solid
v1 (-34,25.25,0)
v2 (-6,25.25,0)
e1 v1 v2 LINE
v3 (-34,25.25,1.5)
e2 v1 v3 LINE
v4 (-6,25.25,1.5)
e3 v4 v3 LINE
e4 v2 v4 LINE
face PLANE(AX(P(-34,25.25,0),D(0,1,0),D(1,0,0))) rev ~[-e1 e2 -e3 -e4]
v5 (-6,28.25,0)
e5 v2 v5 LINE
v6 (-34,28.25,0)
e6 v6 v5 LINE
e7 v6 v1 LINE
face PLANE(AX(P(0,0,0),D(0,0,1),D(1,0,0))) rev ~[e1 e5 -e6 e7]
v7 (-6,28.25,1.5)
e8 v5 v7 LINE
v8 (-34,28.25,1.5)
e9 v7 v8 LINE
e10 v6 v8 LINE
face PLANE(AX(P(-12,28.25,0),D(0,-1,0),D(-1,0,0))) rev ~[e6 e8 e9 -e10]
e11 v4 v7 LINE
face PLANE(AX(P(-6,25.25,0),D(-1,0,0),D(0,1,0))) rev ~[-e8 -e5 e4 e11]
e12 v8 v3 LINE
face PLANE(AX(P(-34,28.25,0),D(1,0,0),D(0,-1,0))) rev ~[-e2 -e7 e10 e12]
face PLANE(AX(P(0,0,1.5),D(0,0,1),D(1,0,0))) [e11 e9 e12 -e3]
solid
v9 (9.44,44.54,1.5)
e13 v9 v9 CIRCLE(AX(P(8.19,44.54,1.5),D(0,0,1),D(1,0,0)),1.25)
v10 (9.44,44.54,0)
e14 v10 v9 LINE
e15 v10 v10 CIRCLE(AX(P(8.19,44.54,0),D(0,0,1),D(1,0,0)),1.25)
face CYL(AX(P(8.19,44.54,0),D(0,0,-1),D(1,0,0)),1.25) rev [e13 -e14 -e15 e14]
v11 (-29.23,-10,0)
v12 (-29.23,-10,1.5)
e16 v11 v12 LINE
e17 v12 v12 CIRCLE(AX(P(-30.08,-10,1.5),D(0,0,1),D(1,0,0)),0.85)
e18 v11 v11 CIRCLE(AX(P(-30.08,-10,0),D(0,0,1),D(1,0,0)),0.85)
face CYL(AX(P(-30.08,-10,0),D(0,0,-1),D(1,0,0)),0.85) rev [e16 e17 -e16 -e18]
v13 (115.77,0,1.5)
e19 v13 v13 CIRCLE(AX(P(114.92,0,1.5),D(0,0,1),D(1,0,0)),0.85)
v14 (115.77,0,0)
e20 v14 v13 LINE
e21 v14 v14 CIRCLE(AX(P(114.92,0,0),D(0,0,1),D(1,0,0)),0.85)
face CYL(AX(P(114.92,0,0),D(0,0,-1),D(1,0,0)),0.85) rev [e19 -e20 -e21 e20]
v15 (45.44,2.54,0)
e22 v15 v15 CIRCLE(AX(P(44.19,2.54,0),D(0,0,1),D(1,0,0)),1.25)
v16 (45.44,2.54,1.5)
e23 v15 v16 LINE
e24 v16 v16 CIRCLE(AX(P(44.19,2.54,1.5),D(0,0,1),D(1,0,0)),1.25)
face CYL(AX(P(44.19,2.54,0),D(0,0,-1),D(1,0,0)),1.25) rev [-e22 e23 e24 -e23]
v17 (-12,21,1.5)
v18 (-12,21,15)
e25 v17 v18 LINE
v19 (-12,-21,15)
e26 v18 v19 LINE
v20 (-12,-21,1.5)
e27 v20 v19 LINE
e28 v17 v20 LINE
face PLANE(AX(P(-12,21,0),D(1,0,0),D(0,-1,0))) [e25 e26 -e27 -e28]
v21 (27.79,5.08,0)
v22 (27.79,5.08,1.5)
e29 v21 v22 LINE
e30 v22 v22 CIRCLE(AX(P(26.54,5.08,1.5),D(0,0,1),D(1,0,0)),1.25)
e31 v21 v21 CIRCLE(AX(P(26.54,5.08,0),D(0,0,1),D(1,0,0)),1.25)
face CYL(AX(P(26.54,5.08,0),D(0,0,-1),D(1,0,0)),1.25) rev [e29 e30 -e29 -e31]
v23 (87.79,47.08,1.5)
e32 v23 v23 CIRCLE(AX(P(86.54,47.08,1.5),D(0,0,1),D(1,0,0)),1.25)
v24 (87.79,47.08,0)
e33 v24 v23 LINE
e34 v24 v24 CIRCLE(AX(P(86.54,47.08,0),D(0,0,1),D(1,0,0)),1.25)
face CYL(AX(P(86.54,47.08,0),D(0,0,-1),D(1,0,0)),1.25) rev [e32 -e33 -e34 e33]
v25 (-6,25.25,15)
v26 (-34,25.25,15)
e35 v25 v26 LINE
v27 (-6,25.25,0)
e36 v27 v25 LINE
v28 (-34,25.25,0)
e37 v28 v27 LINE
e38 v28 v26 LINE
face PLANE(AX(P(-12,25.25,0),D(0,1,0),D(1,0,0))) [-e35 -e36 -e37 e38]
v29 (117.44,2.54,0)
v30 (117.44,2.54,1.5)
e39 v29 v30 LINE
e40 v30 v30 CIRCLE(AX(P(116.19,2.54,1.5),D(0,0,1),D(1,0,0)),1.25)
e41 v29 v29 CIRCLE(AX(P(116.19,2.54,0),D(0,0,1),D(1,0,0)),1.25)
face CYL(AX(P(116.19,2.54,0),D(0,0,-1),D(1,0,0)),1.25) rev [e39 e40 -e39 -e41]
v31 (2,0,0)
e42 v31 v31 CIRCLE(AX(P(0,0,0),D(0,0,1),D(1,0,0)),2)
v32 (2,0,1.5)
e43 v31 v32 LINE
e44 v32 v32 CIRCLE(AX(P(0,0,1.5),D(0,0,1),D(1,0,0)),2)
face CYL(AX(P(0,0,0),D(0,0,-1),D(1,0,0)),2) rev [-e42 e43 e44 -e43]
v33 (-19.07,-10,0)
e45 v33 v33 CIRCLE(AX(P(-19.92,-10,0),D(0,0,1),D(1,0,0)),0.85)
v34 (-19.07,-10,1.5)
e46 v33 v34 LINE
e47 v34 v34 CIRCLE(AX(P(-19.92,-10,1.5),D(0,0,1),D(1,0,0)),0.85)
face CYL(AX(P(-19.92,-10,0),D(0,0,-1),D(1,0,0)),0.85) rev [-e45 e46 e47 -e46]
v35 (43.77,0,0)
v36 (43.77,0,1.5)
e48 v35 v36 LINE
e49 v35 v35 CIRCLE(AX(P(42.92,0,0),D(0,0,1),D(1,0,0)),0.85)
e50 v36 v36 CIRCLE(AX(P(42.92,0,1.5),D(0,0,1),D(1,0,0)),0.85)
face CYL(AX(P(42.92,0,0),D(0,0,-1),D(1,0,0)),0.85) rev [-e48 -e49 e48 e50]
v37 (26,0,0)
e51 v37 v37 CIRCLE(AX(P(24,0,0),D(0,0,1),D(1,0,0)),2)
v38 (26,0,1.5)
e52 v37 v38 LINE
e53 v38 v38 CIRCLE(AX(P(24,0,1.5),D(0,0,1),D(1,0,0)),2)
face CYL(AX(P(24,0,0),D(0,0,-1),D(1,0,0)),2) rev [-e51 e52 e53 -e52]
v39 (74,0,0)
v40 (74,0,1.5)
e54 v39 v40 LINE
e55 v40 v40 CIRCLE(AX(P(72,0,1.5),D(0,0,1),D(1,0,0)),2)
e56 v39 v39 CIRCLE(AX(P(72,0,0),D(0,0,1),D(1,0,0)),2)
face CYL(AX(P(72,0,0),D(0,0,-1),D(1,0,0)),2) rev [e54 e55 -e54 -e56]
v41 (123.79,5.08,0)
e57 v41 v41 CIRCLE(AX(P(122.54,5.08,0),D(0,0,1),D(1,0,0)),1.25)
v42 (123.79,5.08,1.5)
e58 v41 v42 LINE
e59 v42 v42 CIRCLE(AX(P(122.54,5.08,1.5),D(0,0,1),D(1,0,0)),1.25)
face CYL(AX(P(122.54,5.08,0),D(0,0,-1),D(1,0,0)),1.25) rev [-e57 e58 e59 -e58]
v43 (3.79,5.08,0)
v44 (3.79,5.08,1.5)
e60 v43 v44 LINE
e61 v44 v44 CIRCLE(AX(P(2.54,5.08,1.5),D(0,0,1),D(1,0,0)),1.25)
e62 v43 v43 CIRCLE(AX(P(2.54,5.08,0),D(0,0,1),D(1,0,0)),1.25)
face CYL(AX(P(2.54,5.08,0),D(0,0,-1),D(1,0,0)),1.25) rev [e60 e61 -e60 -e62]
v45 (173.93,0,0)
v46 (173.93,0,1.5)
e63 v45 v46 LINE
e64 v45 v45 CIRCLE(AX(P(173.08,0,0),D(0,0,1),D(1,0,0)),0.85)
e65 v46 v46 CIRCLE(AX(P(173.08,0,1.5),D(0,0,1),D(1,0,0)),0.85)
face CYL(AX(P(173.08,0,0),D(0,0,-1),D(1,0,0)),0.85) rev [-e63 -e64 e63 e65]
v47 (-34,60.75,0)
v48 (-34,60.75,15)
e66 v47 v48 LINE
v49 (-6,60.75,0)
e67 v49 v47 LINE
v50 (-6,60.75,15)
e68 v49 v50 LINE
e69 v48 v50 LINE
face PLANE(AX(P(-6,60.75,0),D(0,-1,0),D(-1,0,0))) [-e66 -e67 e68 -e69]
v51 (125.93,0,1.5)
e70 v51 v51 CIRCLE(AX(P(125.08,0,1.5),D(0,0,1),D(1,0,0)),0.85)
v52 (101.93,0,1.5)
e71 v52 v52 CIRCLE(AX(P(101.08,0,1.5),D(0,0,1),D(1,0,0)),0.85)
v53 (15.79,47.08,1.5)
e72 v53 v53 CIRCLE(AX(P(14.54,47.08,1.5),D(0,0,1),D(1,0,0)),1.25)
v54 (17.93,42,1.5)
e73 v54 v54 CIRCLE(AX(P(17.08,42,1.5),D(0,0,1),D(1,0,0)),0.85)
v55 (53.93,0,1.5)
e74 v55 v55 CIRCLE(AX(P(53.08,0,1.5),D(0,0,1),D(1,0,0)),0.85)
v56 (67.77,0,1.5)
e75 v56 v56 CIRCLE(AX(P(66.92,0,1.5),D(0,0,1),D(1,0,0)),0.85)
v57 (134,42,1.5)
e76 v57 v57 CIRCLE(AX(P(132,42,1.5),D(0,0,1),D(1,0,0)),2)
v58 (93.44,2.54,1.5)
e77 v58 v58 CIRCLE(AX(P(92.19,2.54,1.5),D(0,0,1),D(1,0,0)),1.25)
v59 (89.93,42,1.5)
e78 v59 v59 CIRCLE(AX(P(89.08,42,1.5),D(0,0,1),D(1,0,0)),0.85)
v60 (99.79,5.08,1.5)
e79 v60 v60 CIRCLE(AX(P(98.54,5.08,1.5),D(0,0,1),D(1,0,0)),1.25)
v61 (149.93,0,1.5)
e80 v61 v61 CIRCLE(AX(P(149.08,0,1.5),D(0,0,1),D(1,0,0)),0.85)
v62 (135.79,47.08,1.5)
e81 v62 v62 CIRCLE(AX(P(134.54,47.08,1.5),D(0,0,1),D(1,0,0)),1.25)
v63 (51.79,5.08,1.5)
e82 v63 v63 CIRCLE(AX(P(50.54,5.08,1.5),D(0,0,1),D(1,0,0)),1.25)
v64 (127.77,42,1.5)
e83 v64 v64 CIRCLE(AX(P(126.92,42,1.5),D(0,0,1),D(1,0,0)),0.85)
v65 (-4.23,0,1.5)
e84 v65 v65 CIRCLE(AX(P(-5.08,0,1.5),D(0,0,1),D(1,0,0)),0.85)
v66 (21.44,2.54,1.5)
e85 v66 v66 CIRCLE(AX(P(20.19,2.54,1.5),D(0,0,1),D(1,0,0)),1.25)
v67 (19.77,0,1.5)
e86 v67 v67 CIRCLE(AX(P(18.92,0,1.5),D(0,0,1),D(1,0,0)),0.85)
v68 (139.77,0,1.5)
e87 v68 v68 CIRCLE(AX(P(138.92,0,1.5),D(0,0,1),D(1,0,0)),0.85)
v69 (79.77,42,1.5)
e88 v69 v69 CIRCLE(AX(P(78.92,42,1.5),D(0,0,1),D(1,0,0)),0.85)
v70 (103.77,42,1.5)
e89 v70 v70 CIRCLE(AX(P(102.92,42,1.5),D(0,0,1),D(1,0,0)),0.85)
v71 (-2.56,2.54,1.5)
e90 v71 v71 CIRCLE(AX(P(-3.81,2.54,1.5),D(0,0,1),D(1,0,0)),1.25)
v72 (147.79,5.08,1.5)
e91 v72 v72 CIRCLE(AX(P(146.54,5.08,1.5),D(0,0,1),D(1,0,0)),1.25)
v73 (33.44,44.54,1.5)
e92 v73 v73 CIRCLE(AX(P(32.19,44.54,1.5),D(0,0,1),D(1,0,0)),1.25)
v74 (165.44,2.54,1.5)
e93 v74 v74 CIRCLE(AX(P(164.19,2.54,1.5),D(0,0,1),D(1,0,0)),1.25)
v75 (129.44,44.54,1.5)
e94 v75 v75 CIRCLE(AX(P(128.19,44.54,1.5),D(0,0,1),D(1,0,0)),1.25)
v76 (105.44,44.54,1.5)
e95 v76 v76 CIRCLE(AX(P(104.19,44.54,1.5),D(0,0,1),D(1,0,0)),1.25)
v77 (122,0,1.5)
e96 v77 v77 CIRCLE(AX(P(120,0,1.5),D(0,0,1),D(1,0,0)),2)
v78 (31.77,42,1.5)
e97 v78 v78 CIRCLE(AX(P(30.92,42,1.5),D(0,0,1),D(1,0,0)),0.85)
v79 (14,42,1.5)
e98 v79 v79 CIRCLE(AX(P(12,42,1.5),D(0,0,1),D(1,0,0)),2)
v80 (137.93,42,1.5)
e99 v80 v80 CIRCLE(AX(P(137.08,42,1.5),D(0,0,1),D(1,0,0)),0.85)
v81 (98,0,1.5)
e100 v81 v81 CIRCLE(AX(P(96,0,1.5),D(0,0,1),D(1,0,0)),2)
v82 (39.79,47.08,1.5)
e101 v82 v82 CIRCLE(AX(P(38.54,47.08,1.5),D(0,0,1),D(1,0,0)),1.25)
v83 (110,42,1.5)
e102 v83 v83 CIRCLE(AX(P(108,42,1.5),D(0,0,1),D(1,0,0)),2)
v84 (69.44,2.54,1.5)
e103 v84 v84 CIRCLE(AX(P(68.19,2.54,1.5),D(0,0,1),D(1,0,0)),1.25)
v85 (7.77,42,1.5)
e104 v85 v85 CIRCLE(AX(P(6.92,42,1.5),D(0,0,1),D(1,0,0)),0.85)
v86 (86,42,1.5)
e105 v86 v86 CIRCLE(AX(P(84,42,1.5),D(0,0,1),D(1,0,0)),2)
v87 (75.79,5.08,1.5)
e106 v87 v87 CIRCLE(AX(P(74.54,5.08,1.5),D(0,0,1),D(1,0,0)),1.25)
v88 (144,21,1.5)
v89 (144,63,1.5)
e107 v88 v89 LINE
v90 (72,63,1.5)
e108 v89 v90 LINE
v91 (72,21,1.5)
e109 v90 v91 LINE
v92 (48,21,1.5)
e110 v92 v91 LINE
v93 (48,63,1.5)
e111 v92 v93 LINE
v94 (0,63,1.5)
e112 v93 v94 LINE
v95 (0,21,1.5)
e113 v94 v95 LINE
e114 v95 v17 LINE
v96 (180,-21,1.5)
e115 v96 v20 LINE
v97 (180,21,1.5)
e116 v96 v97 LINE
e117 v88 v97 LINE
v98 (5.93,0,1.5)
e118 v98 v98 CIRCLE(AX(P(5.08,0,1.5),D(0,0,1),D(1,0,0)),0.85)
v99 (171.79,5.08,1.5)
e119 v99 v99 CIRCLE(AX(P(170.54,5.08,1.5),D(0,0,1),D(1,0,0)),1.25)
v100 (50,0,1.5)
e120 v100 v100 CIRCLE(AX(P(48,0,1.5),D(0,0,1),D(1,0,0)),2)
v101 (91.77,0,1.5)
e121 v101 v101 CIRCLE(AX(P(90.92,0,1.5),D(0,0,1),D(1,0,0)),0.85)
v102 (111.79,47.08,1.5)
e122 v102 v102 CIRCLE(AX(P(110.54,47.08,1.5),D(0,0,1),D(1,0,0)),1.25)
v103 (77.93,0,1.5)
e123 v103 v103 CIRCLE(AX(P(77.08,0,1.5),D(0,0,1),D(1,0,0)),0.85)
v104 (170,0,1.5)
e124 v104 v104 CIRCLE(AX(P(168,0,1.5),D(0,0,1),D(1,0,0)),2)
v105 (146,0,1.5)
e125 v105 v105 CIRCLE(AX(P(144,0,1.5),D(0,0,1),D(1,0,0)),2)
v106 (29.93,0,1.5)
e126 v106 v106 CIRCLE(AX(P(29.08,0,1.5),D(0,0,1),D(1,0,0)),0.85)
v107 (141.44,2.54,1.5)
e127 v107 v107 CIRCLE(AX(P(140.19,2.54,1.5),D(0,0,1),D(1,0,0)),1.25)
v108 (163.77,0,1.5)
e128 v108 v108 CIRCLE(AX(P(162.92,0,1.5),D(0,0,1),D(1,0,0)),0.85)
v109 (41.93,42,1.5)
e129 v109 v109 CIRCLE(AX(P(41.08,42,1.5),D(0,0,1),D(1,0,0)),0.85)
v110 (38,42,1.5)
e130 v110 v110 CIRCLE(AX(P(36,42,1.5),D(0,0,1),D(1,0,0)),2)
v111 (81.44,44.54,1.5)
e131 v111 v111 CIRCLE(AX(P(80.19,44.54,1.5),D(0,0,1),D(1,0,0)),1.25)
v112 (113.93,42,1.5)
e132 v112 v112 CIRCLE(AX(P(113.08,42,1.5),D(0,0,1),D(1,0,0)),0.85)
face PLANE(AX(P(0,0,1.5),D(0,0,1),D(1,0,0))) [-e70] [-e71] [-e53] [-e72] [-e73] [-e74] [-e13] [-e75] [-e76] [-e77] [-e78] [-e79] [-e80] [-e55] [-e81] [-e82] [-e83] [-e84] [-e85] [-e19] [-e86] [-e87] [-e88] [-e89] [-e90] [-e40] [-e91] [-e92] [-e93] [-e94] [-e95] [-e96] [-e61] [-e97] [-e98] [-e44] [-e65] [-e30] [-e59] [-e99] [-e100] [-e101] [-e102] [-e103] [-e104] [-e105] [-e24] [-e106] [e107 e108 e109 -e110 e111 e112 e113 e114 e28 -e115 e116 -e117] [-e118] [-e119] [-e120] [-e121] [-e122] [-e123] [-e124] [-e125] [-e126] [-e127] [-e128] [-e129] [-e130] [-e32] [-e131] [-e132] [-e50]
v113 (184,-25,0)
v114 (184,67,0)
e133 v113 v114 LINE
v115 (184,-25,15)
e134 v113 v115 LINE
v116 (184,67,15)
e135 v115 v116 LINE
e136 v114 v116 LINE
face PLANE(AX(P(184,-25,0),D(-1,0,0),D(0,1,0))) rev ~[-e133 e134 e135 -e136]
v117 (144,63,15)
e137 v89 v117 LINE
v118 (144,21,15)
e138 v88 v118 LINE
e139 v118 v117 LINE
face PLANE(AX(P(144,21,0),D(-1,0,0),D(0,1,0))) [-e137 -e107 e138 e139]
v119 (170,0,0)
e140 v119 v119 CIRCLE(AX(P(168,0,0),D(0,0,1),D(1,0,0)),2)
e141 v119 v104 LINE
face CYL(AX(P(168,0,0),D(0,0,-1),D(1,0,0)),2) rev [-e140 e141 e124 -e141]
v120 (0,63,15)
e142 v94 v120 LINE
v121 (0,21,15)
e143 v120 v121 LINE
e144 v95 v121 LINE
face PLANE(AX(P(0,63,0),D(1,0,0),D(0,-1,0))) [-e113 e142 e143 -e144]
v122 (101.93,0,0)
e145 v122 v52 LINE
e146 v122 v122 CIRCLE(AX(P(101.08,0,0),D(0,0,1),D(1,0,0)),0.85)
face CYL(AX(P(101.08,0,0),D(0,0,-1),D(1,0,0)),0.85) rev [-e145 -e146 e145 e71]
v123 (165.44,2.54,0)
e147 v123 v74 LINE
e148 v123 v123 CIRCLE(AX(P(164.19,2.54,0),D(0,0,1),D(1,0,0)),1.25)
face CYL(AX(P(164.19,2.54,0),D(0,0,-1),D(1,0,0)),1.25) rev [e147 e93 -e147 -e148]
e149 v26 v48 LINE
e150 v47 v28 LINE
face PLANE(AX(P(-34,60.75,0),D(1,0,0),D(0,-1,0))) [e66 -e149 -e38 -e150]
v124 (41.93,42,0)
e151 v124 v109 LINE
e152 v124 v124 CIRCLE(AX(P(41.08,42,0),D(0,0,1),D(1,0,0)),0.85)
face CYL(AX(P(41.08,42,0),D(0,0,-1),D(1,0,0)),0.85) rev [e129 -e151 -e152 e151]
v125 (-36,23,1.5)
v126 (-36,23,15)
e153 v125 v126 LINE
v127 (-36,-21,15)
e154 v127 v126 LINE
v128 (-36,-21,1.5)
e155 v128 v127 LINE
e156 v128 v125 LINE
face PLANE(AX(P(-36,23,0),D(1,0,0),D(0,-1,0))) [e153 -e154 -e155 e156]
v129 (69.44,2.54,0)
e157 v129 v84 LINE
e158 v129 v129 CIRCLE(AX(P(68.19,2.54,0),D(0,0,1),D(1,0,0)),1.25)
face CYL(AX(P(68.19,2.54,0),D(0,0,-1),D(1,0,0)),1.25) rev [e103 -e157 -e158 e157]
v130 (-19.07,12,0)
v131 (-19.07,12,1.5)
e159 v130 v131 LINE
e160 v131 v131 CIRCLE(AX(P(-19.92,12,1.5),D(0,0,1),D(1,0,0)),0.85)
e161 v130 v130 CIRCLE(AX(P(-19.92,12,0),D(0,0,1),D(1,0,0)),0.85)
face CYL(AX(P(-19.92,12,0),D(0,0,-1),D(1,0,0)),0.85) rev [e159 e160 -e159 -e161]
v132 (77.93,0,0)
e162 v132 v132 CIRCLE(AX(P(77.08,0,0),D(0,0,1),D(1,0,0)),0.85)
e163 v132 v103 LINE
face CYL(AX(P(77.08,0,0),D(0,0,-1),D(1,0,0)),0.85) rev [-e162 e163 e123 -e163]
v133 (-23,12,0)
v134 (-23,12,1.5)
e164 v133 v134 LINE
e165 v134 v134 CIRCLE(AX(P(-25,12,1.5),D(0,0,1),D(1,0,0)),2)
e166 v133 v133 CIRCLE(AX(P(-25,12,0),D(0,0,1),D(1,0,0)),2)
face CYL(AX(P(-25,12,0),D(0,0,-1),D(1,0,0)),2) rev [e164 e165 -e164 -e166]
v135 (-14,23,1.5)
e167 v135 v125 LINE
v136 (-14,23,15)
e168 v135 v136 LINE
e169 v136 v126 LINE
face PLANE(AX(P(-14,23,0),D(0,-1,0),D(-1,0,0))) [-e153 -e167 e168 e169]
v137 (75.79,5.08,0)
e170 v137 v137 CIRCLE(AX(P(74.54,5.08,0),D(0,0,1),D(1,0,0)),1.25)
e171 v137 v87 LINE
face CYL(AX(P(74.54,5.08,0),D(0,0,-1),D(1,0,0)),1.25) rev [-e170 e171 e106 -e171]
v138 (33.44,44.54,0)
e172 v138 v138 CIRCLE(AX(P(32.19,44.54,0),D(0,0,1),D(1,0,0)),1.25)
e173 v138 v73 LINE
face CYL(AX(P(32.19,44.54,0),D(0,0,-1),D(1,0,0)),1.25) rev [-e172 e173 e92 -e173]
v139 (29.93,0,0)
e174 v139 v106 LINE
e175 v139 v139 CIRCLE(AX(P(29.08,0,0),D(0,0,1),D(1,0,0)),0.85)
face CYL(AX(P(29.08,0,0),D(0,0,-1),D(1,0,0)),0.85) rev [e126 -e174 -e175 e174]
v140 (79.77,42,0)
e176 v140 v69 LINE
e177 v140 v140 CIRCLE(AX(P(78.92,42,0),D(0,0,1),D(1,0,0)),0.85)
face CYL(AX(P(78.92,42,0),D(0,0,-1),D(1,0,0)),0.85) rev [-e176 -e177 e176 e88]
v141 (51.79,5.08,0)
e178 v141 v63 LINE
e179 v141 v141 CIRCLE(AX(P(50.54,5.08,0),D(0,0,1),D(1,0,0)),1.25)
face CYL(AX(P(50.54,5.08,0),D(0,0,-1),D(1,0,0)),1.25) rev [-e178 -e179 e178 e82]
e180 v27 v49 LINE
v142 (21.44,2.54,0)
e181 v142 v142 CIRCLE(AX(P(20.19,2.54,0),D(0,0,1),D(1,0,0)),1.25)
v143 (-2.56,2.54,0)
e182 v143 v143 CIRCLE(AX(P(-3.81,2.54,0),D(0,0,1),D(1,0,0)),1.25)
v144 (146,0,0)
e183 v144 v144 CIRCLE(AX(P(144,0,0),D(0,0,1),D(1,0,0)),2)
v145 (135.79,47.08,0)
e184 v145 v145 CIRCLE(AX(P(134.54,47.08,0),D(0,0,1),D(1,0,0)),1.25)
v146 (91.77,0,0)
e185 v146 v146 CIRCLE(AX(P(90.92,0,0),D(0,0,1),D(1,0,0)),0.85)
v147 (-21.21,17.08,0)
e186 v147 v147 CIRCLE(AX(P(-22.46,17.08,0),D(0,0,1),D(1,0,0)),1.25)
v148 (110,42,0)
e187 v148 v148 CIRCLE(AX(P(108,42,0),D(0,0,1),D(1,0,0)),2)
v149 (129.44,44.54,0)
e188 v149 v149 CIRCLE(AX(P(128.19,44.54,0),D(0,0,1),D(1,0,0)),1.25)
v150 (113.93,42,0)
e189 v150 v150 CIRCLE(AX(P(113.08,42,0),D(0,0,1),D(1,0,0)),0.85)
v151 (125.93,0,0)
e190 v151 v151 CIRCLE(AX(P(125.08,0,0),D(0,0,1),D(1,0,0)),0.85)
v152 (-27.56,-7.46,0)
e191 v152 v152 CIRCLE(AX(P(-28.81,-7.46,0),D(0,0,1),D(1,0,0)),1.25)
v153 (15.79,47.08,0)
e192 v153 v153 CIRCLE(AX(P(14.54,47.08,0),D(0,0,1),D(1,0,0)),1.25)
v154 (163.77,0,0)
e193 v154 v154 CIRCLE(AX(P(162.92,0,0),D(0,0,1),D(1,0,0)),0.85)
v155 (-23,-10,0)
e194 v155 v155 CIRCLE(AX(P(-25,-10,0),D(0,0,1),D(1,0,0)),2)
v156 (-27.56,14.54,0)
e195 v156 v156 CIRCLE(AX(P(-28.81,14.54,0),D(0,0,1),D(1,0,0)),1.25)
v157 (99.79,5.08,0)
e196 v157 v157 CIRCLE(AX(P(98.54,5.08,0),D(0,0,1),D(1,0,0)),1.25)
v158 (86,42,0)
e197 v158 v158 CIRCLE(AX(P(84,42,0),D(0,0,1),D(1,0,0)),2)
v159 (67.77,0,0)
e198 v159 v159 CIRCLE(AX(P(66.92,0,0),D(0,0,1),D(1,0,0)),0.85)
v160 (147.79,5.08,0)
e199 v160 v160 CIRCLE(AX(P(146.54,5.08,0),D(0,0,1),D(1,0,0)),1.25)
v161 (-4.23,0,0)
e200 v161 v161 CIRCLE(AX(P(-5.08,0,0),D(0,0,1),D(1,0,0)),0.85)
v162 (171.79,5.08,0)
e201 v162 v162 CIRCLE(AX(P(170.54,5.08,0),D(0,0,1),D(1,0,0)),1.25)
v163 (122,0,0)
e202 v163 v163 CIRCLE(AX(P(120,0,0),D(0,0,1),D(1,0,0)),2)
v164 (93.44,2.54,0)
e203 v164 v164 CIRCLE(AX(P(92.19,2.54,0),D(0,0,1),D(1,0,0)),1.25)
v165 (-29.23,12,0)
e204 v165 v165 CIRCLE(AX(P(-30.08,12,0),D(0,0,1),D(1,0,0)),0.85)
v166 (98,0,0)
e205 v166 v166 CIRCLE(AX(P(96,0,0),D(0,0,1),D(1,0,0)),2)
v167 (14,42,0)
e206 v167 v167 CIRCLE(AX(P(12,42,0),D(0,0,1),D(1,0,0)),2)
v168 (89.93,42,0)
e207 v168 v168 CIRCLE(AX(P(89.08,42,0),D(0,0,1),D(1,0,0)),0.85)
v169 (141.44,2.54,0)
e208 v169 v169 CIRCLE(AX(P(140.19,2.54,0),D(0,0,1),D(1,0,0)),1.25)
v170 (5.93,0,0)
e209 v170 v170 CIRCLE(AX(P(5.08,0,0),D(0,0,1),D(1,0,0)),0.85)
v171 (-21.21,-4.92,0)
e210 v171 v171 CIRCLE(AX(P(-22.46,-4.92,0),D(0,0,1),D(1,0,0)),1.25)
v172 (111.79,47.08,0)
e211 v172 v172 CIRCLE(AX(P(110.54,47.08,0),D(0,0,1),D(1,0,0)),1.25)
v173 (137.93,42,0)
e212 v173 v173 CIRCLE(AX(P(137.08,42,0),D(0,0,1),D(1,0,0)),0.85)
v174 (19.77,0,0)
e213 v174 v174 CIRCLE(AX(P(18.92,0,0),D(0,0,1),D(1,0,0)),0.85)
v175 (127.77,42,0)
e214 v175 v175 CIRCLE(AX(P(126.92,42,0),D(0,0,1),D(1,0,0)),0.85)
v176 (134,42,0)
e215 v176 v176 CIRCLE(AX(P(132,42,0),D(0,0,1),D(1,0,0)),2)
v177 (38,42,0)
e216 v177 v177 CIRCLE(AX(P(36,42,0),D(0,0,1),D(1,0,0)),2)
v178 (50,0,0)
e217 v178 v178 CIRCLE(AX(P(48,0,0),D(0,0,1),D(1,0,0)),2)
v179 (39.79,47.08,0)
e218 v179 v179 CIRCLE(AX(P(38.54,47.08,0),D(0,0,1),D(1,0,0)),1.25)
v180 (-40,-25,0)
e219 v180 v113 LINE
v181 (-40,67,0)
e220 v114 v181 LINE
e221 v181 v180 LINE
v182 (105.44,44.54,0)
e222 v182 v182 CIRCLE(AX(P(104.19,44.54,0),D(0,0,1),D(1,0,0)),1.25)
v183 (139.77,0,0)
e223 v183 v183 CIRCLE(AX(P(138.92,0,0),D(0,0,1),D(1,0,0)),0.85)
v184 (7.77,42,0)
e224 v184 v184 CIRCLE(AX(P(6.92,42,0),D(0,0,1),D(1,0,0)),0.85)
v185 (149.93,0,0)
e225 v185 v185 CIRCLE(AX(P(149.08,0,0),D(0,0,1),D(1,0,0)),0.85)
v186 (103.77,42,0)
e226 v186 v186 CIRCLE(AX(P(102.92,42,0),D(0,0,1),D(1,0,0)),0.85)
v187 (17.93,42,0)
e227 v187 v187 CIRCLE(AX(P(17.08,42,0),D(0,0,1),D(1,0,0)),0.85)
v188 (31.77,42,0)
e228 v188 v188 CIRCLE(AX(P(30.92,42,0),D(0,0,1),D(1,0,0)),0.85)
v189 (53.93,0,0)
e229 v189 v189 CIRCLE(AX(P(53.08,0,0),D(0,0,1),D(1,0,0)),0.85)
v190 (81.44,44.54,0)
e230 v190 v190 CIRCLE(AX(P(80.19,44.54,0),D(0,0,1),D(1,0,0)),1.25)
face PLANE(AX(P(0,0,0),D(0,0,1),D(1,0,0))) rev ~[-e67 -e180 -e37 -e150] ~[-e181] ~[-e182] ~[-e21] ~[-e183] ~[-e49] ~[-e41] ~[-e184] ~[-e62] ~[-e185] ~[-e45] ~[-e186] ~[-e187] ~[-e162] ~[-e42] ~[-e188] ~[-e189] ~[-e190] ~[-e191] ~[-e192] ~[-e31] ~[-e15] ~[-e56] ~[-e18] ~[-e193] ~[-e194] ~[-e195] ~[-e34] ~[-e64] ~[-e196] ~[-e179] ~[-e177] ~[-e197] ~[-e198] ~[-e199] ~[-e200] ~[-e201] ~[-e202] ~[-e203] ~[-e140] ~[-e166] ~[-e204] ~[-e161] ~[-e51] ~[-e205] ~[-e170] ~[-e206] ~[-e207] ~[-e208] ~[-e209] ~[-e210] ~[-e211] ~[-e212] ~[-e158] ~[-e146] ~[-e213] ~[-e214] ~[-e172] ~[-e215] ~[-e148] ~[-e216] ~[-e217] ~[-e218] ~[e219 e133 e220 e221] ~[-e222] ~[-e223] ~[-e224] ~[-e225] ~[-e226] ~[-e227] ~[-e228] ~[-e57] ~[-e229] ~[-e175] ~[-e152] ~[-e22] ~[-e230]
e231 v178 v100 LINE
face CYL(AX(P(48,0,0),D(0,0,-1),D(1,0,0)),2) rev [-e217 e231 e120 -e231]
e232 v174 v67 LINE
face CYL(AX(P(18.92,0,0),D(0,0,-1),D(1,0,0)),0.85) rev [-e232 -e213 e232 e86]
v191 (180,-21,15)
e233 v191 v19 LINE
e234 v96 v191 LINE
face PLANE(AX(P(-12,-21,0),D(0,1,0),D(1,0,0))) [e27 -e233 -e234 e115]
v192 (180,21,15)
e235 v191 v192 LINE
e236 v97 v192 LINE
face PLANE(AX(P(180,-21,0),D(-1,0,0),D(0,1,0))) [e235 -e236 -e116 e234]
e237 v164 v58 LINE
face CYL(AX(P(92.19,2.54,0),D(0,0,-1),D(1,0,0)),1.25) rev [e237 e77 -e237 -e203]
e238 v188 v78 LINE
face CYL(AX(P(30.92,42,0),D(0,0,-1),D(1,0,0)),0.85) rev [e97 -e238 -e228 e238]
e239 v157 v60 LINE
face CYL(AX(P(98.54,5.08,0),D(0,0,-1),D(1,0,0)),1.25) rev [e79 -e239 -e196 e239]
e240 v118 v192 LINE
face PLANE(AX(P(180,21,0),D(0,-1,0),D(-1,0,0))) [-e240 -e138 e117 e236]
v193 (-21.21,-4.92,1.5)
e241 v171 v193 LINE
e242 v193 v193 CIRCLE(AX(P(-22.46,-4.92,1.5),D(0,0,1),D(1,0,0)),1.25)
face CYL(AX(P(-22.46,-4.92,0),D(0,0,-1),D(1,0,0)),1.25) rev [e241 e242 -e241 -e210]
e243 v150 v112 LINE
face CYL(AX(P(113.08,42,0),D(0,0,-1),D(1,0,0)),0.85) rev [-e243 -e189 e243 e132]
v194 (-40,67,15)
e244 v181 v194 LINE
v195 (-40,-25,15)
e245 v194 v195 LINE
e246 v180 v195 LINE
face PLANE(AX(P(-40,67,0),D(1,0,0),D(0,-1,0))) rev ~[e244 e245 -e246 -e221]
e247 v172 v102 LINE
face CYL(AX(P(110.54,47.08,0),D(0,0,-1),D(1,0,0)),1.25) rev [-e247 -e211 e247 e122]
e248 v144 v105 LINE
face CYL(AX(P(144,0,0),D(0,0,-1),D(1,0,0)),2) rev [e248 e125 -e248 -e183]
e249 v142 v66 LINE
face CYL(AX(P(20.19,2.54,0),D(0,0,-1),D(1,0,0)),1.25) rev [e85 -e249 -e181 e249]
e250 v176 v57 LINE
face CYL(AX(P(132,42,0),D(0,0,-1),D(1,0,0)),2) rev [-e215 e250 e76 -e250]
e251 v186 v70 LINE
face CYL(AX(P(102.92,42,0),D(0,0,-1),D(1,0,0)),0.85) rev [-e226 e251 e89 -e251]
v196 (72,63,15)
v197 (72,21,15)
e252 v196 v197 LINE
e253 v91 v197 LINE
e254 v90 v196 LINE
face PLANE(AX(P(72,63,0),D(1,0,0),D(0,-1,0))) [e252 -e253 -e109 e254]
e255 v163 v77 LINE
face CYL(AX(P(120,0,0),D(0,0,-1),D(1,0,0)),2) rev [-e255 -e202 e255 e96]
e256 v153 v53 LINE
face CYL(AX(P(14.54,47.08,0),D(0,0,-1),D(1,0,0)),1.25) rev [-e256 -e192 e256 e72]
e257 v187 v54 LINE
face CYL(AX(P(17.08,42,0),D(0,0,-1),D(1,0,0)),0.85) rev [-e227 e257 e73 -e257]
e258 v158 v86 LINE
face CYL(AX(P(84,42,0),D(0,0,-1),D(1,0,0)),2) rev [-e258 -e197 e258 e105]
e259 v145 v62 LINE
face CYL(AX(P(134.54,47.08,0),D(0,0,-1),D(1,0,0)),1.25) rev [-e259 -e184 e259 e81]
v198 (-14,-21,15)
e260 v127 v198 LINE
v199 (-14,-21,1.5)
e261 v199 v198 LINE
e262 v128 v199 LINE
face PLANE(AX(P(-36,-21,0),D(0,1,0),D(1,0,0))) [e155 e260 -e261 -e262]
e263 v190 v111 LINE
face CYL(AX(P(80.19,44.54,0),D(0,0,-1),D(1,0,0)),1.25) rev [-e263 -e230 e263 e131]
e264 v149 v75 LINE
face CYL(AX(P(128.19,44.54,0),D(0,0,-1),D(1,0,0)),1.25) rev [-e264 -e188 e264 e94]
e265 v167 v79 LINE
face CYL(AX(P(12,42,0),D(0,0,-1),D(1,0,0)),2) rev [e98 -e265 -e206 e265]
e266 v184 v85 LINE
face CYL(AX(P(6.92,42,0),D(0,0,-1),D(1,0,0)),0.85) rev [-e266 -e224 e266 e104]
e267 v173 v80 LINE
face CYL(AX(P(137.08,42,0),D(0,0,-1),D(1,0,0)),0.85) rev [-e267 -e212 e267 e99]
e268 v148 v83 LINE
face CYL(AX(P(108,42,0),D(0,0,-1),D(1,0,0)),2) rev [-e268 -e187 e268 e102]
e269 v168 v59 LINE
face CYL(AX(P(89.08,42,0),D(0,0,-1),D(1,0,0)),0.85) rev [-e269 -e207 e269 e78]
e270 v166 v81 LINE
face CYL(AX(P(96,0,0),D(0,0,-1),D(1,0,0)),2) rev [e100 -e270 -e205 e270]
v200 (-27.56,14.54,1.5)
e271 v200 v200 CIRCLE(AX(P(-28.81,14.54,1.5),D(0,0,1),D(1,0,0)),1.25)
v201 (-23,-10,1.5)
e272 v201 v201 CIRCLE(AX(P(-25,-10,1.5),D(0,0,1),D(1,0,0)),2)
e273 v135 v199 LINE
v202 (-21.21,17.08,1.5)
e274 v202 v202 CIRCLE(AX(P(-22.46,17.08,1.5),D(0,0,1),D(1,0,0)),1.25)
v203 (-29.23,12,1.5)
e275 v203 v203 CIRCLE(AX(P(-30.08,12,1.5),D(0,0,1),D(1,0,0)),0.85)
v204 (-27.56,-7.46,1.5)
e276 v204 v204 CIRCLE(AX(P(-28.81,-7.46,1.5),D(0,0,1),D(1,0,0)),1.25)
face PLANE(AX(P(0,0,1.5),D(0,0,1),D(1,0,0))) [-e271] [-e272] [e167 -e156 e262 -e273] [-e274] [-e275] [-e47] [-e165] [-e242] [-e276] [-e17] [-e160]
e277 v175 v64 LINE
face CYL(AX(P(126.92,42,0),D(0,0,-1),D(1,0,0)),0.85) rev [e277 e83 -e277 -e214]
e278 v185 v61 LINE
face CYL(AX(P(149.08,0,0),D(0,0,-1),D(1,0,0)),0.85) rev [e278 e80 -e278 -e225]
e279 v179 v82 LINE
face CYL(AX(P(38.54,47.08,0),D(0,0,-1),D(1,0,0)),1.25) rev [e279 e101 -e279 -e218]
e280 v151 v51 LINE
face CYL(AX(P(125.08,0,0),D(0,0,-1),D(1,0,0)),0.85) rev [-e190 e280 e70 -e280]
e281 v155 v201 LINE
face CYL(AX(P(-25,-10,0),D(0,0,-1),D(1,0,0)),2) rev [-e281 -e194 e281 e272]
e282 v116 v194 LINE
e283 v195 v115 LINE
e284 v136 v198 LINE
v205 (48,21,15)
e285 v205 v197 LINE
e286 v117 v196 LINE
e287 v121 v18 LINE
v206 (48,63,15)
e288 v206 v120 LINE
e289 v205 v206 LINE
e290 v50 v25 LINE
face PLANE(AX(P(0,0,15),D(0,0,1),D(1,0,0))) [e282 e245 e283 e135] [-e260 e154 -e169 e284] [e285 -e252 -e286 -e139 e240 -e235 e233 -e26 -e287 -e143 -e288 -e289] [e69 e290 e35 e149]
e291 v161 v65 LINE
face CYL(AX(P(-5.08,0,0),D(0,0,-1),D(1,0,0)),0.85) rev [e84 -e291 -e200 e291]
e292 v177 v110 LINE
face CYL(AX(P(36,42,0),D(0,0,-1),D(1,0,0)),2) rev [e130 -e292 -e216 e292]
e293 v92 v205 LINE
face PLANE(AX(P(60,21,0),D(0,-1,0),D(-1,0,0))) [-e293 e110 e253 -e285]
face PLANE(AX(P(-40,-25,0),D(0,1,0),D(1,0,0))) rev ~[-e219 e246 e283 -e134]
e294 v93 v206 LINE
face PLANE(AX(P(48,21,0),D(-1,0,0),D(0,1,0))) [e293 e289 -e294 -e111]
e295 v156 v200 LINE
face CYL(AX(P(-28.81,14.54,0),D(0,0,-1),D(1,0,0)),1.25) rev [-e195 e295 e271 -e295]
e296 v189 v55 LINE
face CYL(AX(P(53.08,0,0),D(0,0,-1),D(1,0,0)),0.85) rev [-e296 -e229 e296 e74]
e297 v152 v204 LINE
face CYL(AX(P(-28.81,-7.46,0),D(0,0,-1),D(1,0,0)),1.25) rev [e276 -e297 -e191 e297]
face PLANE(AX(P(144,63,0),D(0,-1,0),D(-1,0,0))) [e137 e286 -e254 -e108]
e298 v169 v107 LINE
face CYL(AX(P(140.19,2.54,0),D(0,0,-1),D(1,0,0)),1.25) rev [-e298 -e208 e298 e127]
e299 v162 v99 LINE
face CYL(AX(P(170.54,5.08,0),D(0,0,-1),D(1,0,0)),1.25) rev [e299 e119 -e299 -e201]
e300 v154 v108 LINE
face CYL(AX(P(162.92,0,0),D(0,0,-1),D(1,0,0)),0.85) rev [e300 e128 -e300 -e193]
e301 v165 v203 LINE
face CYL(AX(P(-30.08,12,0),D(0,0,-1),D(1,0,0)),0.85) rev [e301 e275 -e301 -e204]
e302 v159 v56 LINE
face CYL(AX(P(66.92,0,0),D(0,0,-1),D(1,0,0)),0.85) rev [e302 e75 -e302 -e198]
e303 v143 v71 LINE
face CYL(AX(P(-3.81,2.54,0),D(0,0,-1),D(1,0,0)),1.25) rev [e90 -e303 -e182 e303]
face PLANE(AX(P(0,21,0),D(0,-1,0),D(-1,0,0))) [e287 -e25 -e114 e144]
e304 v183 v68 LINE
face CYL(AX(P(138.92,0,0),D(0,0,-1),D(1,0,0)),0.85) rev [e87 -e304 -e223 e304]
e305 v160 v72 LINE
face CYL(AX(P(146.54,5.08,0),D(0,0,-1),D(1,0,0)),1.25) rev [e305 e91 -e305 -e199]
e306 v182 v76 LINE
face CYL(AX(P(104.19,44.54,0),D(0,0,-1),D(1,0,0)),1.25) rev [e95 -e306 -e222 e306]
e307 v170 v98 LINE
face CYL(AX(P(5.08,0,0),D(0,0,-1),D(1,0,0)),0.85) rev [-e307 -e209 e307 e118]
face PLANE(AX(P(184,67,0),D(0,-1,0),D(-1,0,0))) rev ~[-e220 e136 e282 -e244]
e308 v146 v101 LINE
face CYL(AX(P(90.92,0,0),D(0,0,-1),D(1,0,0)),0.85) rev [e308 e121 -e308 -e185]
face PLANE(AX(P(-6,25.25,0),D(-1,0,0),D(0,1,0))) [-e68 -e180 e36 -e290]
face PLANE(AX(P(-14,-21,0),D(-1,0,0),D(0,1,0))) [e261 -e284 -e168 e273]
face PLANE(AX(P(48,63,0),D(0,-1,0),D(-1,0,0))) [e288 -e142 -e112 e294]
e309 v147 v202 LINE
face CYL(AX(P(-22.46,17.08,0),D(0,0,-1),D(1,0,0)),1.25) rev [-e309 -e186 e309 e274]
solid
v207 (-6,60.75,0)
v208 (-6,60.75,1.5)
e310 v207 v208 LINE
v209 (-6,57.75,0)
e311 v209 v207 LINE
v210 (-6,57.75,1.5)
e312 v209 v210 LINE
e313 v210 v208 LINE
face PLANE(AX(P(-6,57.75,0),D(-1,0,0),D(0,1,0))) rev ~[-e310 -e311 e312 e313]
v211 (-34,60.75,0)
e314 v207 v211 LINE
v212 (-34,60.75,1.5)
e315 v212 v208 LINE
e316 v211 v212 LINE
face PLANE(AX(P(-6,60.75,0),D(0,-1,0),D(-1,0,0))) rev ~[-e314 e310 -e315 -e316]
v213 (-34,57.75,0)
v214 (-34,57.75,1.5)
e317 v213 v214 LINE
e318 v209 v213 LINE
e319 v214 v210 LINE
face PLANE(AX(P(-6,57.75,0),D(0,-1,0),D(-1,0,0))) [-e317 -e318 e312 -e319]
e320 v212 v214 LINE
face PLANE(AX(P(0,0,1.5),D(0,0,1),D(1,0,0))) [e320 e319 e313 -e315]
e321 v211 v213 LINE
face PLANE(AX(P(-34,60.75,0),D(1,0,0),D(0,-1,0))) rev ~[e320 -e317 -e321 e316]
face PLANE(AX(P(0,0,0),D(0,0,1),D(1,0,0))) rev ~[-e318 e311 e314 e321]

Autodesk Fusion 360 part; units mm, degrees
sketch "Sketch1" plane through (0, 0, 0) normal (0, 0, 1) x (1, 0, 0)
  circle A0 centre (0, 0) radius 2
  line L0 (0, 0) -> (5.08, 0) construction
  circle A1 centre (5.08, 0) radius 0.85
  line L1 (0, 0) -> (2.54, 0) construction
  line L2 (2.54, 0) -> (2.54, 5.08) construction
  line L3 (2.54, 5.08) -> (0, 5.08) construction
  line L4 (0, 5.08) -> (0, 0) construction
  circle A2 centre (2.54, 5.08) radius 1.25
  line L5 (0, 0) -> (-3.81, 0) construction
  line L6 (-3.81, 0) -> (-3.81, 2.54) construction
  line L7 (-3.81, 2.54) -> (0, 2.54) construction
  line L8 (0, 2.54) -> (0, 0) construction
  circle A3 centre (-3.81, 2.54) radius 1.25
  circle A4 centre (-5.08, 0) radius 0.85
  line L9 (12, 21) -> (-12, 21)
  line L10 (-12, 21) -> (-12, -21)
  line L11 (-12, -21) -> (12, -21)
  line L12 (12, -21) -> (12, 21) construction
  line L13 (12, 21) -> (-12, -21) construction
  line L14 (-12, 21) -> (12, -21) construction
  line L15 (12, 21) -> (12, -21) construction
  line L16 (36, 21) -> (12, 21) construction
  line L17 (12, -21) -> (36, -21)
  line L18 (26.54, 5.08) -> (24, 5.08) construction
  line L19 (36, 21) -> (12, -21) construction
  line L20 (12, 21) -> (36, -21) construction
  circle A5 centre (24, 0) radius 2
  line L21 (36, -21) -> (36, 21) construction
  line L22 (24, 5.08) -> (24, 0) construction
  line L23 (24, 0) -> (29.08, 0) construction
  circle A6 centre (20.19, 2.54) radius 1.25
  line L24 (24, 2.54) -> (24, 0) construction
  line L25 (24, 0) -> (26.54, 0) construction
  circle A7 centre (18.92, 0) radius 0.85
  circle A8 centre (29.08, 0) radius 0.85
  line L26 (24, 0) -> (20.19, 0) construction
  line L27 (26.54, 0) -> (26.54, 5.08) construction
  circle A9 centre (26.54, 5.08) radius 1.25
  line L28 (20.19, 0) -> (20.19, 2.54) construction
  line L29 (20.19, 2.54) -> (24, 2.54) construction
  line L30 (36, 21) -> (36, -21) construction
  line L31 (60, 21) -> (36, 21)
  line L32 (36, -21) -> (60, -21)
  line L33 (50.54, 5.08) -> (48, 5.08) construction
  line L34 (60, 21) -> (36, -21) construction
  line L35 (36, 21) -> (60, -21) construction
  circle A10 centre (48, 0) radius 2
  line L36 (60, -21) -> (60, 21) construction
  line L37 (48, 5.08) -> (48, 0) construction
  line L38 (48, 0) -> (53.08, 0) construction
  circle A11 centre (44.19, 2.54) radius 1.25
  line L39 (48, 2.54) -> (48, 0) construction
  line L40 (48, 0) -> (50.54, 0) construction
  circle A12 centre (42.92, 0) radius 0.85
  circle A13 centre (53.08, 0) radius 0.85
  line L41 (48, 0) -> (44.19, 0) construction
  line L42 (50.54, 0) -> (50.54, 5.08) construction
  circle A14 centre (50.54, 5.08) radius 1.25
  line L43 (44.19, 0) -> (44.19, 2.54) construction
  line L44 (44.19, 2.54) -> (48, 2.54) construction
  line L45 (60, 21) -> (60, -21) construction
  line L46 (84, 21) -> (60, 21)
  line L47 (60, -21) -> (84, -21)
  line L48 (74.54, 5.08) -> (72, 5.08) construction
  line L49 (84, 21) -> (60, -21) construction
  line L50 (60, 21) -> (84, -21) construction
  circle A15 centre (72, 0) radius 2
  line L51 (84, -21) -> (84, 21) construction
  line L52 (72, 5.08) -> (72, 0) construction
  line L53 (72, 0) -> (77.08, 0) construction
  circle A16 centre (68.19, 2.54) radius 1.25
  line L54 (72, 2.54) -> (72, 0) construction
  line L55 (72, 0) -> (74.54, 0) construction
  circle A17 centre (66.92, 0) radius 0.85
  circle A18 centre (77.08, 0) radius 0.85
  line L56 (72, 0) -> (68.19, 0) construction
  line L57 (74.54, 0) -> (74.54, 5.08) construction
  circle A19 centre (74.54, 5.08) radius 1.25
  line L58 (68.19, 0) -> (68.19, 2.54) construction
  line L59 (68.19, 2.54) -> (72, 2.54) construction
  line L60 (84, 21) -> (84, -21) construction
  line L61 (108, 21) -> (84, 21) construction
  line L62 (84, -21) -> (108, -21)
  line L63 (98.54, 5.08) -> (96, 5.08) construction
  line L64 (108, 21) -> (84, -21) construction
  line L65 (84, 21) -> (108, -21) construction
  circle A20 centre (96, 0) radius 2
  line L66 (108, -21) -> (108, 21) construction
  line L67 (96, 5.08) -> (96, 0) construction
  line L68 (96, 0) -> (101.08, 0) construction
  circle A21 centre (92.19, 2.54) radius 1.25
  line L69 (96, 2.54) -> (96, 0) construction
  line L70 (96, 0) -> (98.54, 0) construction
  circle A22 centre (90.92, 0) radius 0.85
  circle A23 centre (101.08, 0) radius 0.85
  line L71 (96, 0) -> (92.19, 0) construction
  line L72 (98.54, 0) -> (98.54, 5.08) construction
  circle A24 centre (98.54, 5.08) radius 1.25
  line L73 (92.19, 0) -> (92.19, 2.54) construction
  line L74 (92.19, 2.54) -> (96, 2.54) construction
  line L75 (108, 21) -> (108, -21) construction
  line L76 (132, 21) -> (108, 21) construction
  line L77 (108, -21) -> (132, -21)
  line L78 (122.54, 5.08) -> (120, 5.08) construction
  line L79 (132, 21) -> (108, -21) construction
  line L80 (108, 21) -> (132, -21) construction
  circle A25 centre (120, 0) radius 2
  line L81 (132, -21) -> (132, 21) construction
  line L82 (120, 5.08) -> (120, 0) construction
  line L83 (120, 0) -> (125.08, 0) construction
  circle A26 centre (116.19, 2.54) radius 1.25
  line L84 (120, 2.54) -> (120, 0) construction
  line L85 (120, 0) -> (122.54, 0) construction
  circle A27 centre (114.92, 0) radius 0.85
  circle A28 centre (125.08, 0) radius 0.85
  line L86 (120, 0) -> (116.19, 0) construction
  line L87 (122.54, 0) -> (122.54, 5.08) construction
  circle A29 centre (122.54, 5.08) radius 1.25
  line L88 (116.19, 0) -> (116.19, 2.54) construction
  line L89 (116.19, 2.54) -> (120, 2.54) construction
  line L90 (132, 21) -> (132, -21) construction
  line L91 (156, 21) -> (132, 21)
  line L92 (132, -21) -> (156, -21)
  line L93 (146.54, 5.08) -> (144, 5.08) construction
  line L94 (156, 21) -> (132, -21) construction
  line L95 (132, 21) -> (156, -21) construction
  circle A30 centre (144, 0) radius 2
  line L96 (156, -21) -> (156, 21) construction
  line L97 (144, 5.08) -> (144, 0) construction
  line L98 (144, 0) -> (149.08, 0) construction
  circle A31 centre (140.19, 2.54) radius 1.25
  line L99 (144, 2.54) -> (144, 0) construction
  line L100 (144, 0) -> (146.54, 0) construction
  circle A32 centre (138.92, 0) radius 0.85
  circle A33 centre (149.08, 0) radius 0.85
  line L101 (144, 0) -> (140.19, 0) construction
  line L102 (146.54, 0) -> (146.54, 5.08) construction
  circle A34 centre (146.54, 5.08) radius 1.25
  line L103 (140.19, 0) -> (140.19, 2.54) construction
  line L104 (140.19, 2.54) -> (144, 2.54) construction
  line L105 (156, 21) -> (156, -21) construction
  line L106 (180, 21) -> (156, 21)
  line L107 (156, -21) -> (180, -21)
  line L108 (170.54, 5.08) -> (168, 5.08) construction
  line L109 (180, 21) -> (156, -21) construction
  line L110 (156, 21) -> (180, -21) construction
  circle A35 centre (168, 0) radius 2
  line L111 (180, -21) -> (180, 21)
  line L112 (168, 5.08) -> (168, 0) construction
  line L113 (168, 0) -> (173.08, 0) construction
  circle A36 centre (164.19, 2.54) radius 1.25
  line L114 (168, 2.54) -> (168, 0) construction
  line L115 (168, 0) -> (170.54, 0) construction
  circle A37 centre (162.92, 0) radius 0.85
  circle A38 centre (173.08, 0) radius 0.85
  line L116 (168, 0) -> (164.19, 0) construction
  line L117 (170.54, 0) -> (170.54, 5.08) construction
  circle A39 centre (170.54, 5.08) radius 1.25
  line L118 (164.19, 0) -> (164.19, 2.54) construction
  line L119 (164.19, 2.54) -> (168, 2.54) construction
  line L120 (48, 0) -> (53.08, 0) construction
  circle A40 centre (48, 0) radius 2
  line L121 (50.54, 5.08) -> (48, 5.08) construction
  circle A41 centre (42.92, 0) radius 0.85
  line L122 (48, 0) -> (44.19, 0) construction
  line L123 (44.19, 2.54) -> (48, 2.54) construction
  circle A42 centre (50.54, 5.08) radius 0.75
  circle A43 centre (53.08, 0) radius 0.85
  line L124 (50.54, 0) -> (50.54, 5.08) construction
  circle A44 centre (44.19, 2.54) radius 0.75
  line L125 (48, 5.08) -> (48, 0) construction
  line L126 (44.19, 0) -> (44.19, 2.54) construction
  line L127 (48, 2.54) -> (48, 0) construction
  line L128 (48, 0) -> (50.54, 0) construction
  line L129 (8.19, 44.54) -> (12, 44.54) construction
  circle A45 centre (6.92, 42) radius 0.85
  line L130 (12, 42) -> (8.19, 42) construction
  line L131 (12, 44.54) -> (12, 42) construction
  circle A46 centre (17.08, 42) radius 0.85
  line L132 (14.54, 42) -> (14.54, 47.08) construction
  circle A47 centre (12, 42) radius 2
  line L133 (14.54, 47.08) -> (12, 47.08) construction
  circle A48 centre (14.54, 47.08) radius 1.25
  circle A49 centre (8.19, 44.54) radius 1.25
  line L134 (12, 42) -> (14.54, 42) construction
  line L135 (12, 42) -> (17.08, 42) construction
  line L136 (12, 47.08) -> (12, 42) construction
  line L137 (8.19, 42) -> (8.19, 44.54) construction
  line L138 (24, 63) -> (0, 63) construction
  line L139 (0, 63) -> (0, 21)
  line L140 (0, 21) -> (24, 21) construction
  line L141 (24, 21) -> (24, 63) construction
  line L142 (24, 63) -> (0, 21) construction
  line L143 (0, 63) -> (24, 21) construction
  circle A50 centre (36, 42) radius 2
  line L144 (32.19, 44.54) -> (36, 44.54) construction
  line L145 (36, 42) -> (41.08, 42) construction
  line L146 (48, 63) -> (24, 63) construction
  circle A51 centre (38.54, 47.08) radius 1.25
  line L147 (24, 63) -> (24, 21) construction
  line L148 (24, 21) -> (48, 21) construction
  line L149 (48, 63) -> (24, 21) construction
  circle A52 centre (30.92, 42) radius 0.85
  line L150 (36, 47.08) -> (36, 42) construction
  line L151 (36, 42) -> (32.19, 42) construction
  line L152 (36, 42) -> (38.54, 42) construction
  line L153 (36, 44.54) -> (36, 42) construction
  circle A53 centre (41.08, 42) radius 0.85
  line L154 (32.19, 42) -> (32.19, 44.54) construction
  circle A54 centre (32.19, 44.54) radius 1.25
  line L155 (38.54, 47.08) -> (36, 47.08) construction
  line L156 (38.54, 42) -> (38.54, 47.08) construction
  line L157 (24, 63) -> (48, 21) construction
  line L158 (48, 21) -> (48, 63)
  line L159 (96, 63) -> (72, 63) construction
  line L160 (84, 44.54) -> (84, 42) construction
  circle A55 centre (102.92, 42) radius 0.85
  line L161 (108, 42) -> (104.19, 42) construction
  line L162 (104.19, 42) -> (104.19, 44.54) construction
  circle A56 centre (86.54, 47.08) radius 1.25
  line L163 (84, 42) -> (86.54, 42) construction
  line L164 (84, 47.08) -> (84, 42) construction
  circle A57 centre (110.54, 47.08) radius 1.25
  circle A58 centre (80.19, 44.54) radius 1.25
  line L165 (84, 42) -> (80.19, 42) construction
  line L166 (108, 47.08) -> (108, 42) construction
  line L167 (96, 21) -> (96, 63) construction
  line L168 (120, 63) -> (96, 21) construction
  circle A59 centre (113.08, 42) radius 0.85
  circle A60 centre (108, 42) radius 2
  line L169 (120, 63) -> (96, 63) construction
  line L170 (110.54, 47.08) -> (108, 47.08) construction
  line L171 (86.54, 47.08) -> (84, 47.08) construction
  line L172 (96, 21) -> (120, 21) construction
  line L173 (86.54, 42) -> (86.54, 47.08) construction
  line L174 (96, 63) -> (120, 21) construction
  line L175 (108, 44.54) -> (108, 42) construction
  circle A61 centre (84, 42) radius 2
  circle A62 centre (78.92, 42) radius 0.85
  line L176 (108, 42) -> (110.54, 42) construction
  line L177 (80.19, 44.54) -> (84, 44.54) construction
  line L178 (72, 21) -> (96, 21) construction
  line L179 (104.19, 44.54) -> (108, 44.54) construction
  circle A63 centre (104.19, 44.54) radius 1.25
  line L180 (120, 21) -> (120, 63) construction
  line L181 (80.19, 42) -> (80.19, 44.54) construction
  line L182 (72, 63) -> (96, 21) construction
  line L183 (84, 42) -> (89.08, 42) construction
  line L184 (110.54, 42) -> (110.54, 47.08) construction
  line L185 (96, 63) -> (72, 21) construction
  circle A64 centre (89.08, 42) radius 0.85
  line L186 (108, 42) -> (113.08, 42) construction
  line L187 (72, 63) -> (72, 21)
  line L188 (96, 63) -> (96, 21) construction
  circle A65 centre (132, 42) radius 2
  line L189 (128.19, 44.54) -> (132, 44.54) construction
  line L190 (132, 42) -> (137.08, 42) construction
  line L191 (144, 63) -> (120, 63) construction
  circle A66 centre (134.54, 47.08) radius 1.25
  line L192 (120, 63) -> (120, 21) construction
  line L193 (120, 21) -> (144, 21) construction
  line L194 (144, 63) -> (120, 21) construction
  circle A67 centre (126.92, 42) radius 0.85
  line L195 (132, 47.08) -> (132, 42) construction
  line L196 (132, 42) -> (128.19, 42) construction
  line L197 (132, 42) -> (134.54, 42) construction
  line L198 (132, 44.54) -> (132, 42) construction
  circle A68 centre (137.08, 42) radius 0.85
  line L199 (128.19, 42) -> (128.19, 44.54) construction
  circle A69 centre (128.19, 44.54) radius 1.25
  line L200 (134.54, 47.08) -> (132, 47.08) construction
  line L201 (134.54, 42) -> (134.54, 47.08) construction
  line L202 (120, 63) -> (144, 21) construction
  line L203 (144, 21) -> (144, 63)
  line L204 (-12, -21) -> (180, -21)
  line L205 (180, -21) -> (180, 63)
  line L206 (180, 63) -> (-12, 63)
  line L207 (-12, 63) -> (-12, -21)
  circle A70 centre (-25, -10) radius 2
  line L208 (-25, -7.46) -> (-25, -10) construction
  circle A71 centre (-22.46, -4.92) radius 1.25
  line L209 (-25, -4.92) -> (-25, -10) construction
  circle A72 centre (-30.08, -10) radius 0.85
  line L210 (-28.81, -7.46) -> (-25, -7.46) construction
  line L211 (-25, -10) -> (-22.46, -10) construction
  circle A73 centre (-19.92, -10) radius 0.85
  line L212 (-25, -10) -> (-28.81, -10) construction
  line L213 (-22.46, -10) -> (-22.46, -4.92) construction
  line L214 (-22.46, -4.92) -> (-25, -4.92) construction
  circle A74 centre (-28.81, -7.46) radius 1.25
  line L215 (-28.81, -10) -> (-28.81, -7.46) construction
  line L216 (-25, -10) -> (-19.92, -10) construction
  line L217 (-14, 1) -> (-36, 1)
  line L218 (-36, 1) -> (-36, -21)
  line L219 (-36, -21) -> (-14, -21)
  line L220 (-14, -21) -> (-14, 1)
  line L221 (-14, 1) -> (-36, -21) construction
  line L222 (-36, 1) -> (-14, -21) construction
  line L223 (-36, 23) -> (-14, 1) construction
  line L224 (-25, 12) -> (-22.46, 12) construction
  line L225 (-28.81, 12) -> (-28.81, 14.54) construction
  line L226 (-28.81, 14.54) -> (-25, 14.54) construction
  line L227 (-36, 23) -> (-36, 1)
  line L228 (-36, 1) -> (-14, 1)
  line L229 (-25, 12) -> (-19.92, 12) construction
  line L230 (-25, 14.54) -> (-25, 12) construction
  circle A75 centre (-19.92, 12) radius 0.85
  line L231 (-14, 23) -> (-36, 23)
  line L232 (-25, 12) -> (-28.81, 12) construction
  line L233 (-25, 17.08) -> (-25, 12) construction
  circle A76 centre (-22.46, 17.08) radius 1.25
  circle A77 centre (-28.81, 14.54) radius 1.25
  line L234 (-14, 23) -> (-36, 1) construction
  line L235 (-14, 1) -> (-14, 23)
  circle A78 centre (-30.08, 12) radius 0.85
  line L236 (-22.46, 17.08) -> (-25, 17.08) construction
  line L237 (-22.46, 12) -> (-22.46, 17.08) construction
  circle A79 centre (-25, 12) radius 2
  line L238 (-14, -21) -> (-12, -21)
  line L239 (-34, 25.25) -> (-6, 25.25)
  line L240 (-6, 25.25) -> (-6, 60.75)
  line L241 (-6, 60.75) -> (-34, 60.75)
  line L242 (-34, 60.75) -> (-34, 25.25)
  line L243 (-34, 60.75) -> (-6, 60.75)
  line L244 (-6, 60.75) -> (-6, 57.75)
  line L245 (-6, 57.75) -> (-34, 57.75)
  line L246 (-34, 57.75) -> (-34, 60.75)
  line L247 (-34, 25.25) -> (-6, 25.25)
  line L248 (-6, 25.25) -> (-6, 28.25)
  line L249 (-6, 28.25) -> (-34, 28.25)
  line L250 (-34, 28.25) -> (-34, 25.25)
  line L251 (-36, 23) -> (-12, 23)
  line L252 (-12, 23) -> (-12, 63)
  line L253 (-12, 63) -> (-36, 63)
  line L254 (-36, 63) -> (-36, 23)
  line L255 (-34, 57.75) -> (-6, 28.25) construction
  circle A80 centre (-20, 43) radius 14
  line L256 (-36, -21) -> (-40, -21) construction
  line L257 (-40, -21) -> (-40, -25) construction
  line L258 (-40, -25) -> (-36, -25) construction
  line L259 (-36, -25) -> (-36, -21) construction
  line L260 (180, 63) -> (184, 63) construction
  line L261 (184, 63) -> (184, 67) construction
  line L262 (184, 67) -> (180, 67) construction
  line L263 (180, 67) -> (180, 63) construction
  line L264 (184, 67) -> (-40, 67)
  line L265 (-40, 67) -> (-40, -25)
  line L266 (-40, -25) -> (184, -25)
  line L267 (184, -25) -> (184, 67)
  point P0 (24, 0)
  point P1 (24, 0)
  point P2 (48, 0)
  point P3 (48, 0)
  point P4 (72, 0)
  point P5 (72, 0)
  point P6 (96, 0)
  point P7 (96, 0)
  point P8 (120, 0)
  point P9 (120, 0)
  point P10 (144, 0)
  point P11 (144, 0)
  point P12 (168, 0)
  point P13 (168, 0)
  point P14 (48, 0)
  point P15 (48, 0)
  point P16 (12, 42)
  point P17 (12, 42)
  point P18 (12, 42)
  point P19 (36, 42)
  point P20 (36, 42)
  point P21 (36, 42)
  point P22 (108, 42)
  point P23 (108, 42)
  point P24 (108, 42)
  point P25 (84, 42)
  point P26 (84, 42)
  point P27 (84, 42)
  point P28 (132, 42)
  point P29 (132, 42)
  point P30 (132, 42)
  point P31 (-25, -10)
  point P32 (-25, -10)
  point P33 (-25, -10)
  point P34 (-25, 12)
  point P35 (-25, 12)
  point P36 (-25, 12)
  dimension "d1" = 4
  dimension "d2" = 5.08
  dimension "d3" = 1.7
  dimension "d4" = 2.54
  dimension "d5" = 5.08
  dimension "d6" = 2.5
  dimension "d7" = 3.81
  dimension "d8" = 2.54
  dimension "d9" = 2.5
  dimension "d10" = 24
  dimension "d11" = 42
  dimension "d16" = 24
  dimension "d17" = 0
  dimension "d18" = 4
  dimension "d19" = 5.08
  dimension "d20" = 1.7
  dimension "d21" = 2.54
  dimension "d22" = 5.08
  dimension "d23" = 2.5
  dimension "d24" = 3.81
  dimension "d25" = 2.54
  dimension "d26" = 2.5
  dimension "d27" = 24
  dimension "d28" = 42
  dimension "d31" = 24
  dimension "d32" = 0
  dimension "d35" = 48
  dimension "d36" = 0
  dimension "d37" = 4
  dimension "d38" = 5.08
  dimension "d39" = 1.7
  dimension "d40" = 2.54
  dimension "d41" = 5.08
  dimension "d42" = 2.5
  dimension "d43" = 3.81
  dimension "d44" = 2.54
  dimension "d45" = 2.5
  dimension "d46" = 24
  dimension "d47" = 42
  dimension "d48" = 4
  dimension "d49" = 5.08
  dimension "d50" = 1.7
  dimension "d51" = 2.54
  dimension "d52" = 5.08
  dimension "d53" = 2.5
  dimension "d54" = 3.81
  dimension "d55" = 2.54
  dimension "d56" = 2.5
  dimension "d57" = 22
  dimension "d58" = 22
  dimension "d61" = 0
  dimension "d62" = 22
  dimension "d63" = 2
  dimension "d64" = 28
  dimension "d65" = 35.5
  dimension "d66" = 3
  dimension "d67" = 3
  dimension "d68" = 2
  dimension "d69" = 2.25
  dimension "d72" = 4
  dimension "d73" = 4
  dimension "d74" = 4
  dimension "d75" = 4
extrude "Extrude1" add sketch "Sketch1" along normal blind 1.5 contours L9 L10 L11 L17 L31 L32 L46 L47 L62 L77 L91 L92 L106 L107 L111 L139 L158 L187 L203 L204 L205 L206 L207 | L217 L218 L219 L220 L228 | L207 L239 L242 L247 L249 L250 L252 | L207 L239 L240 L247 L248 L249 L252 | L217 L227 L228 L231 L235 L251 | L207 L240 L241 L243 L244 L245 L252 | L207 L241 L242 L243 L245 L246 L252 makes body 1 at (80.0697, -14.663, 0) makes body 2 at (-24.9502, -17.9981, 1.5) makes body 3 at (-24.6667, 59.75, 0) makes body 4 at (-24.6667, 27.25, 0)
extrude "Extrude3" add sketch "Sketch1" along normal blind 15 contours L9 L139 L206 L207 L239 L240 L241 L243 L244 L247 L248 L252 | L10 L207 L220 L235 L238 L251 | L207 L231 L239 L241 L242 L243 L246 L247 L250 L251 L252 L253 L254 | L31 L46 L158 L187 L206 | L91 L106 L203 L205 L206 | L264 L265 L266 L267 bodies 1 2
equation "d2 = ( 4 * 1.27 ) * 1 mm"
equation "d4 = ( 2 * 1.27 ) * 1 mm"
equation "d5 = ( 4 * 1.27 ) * 1 mm"
equation "d7 = ( 3 * 1.27 ) * 1 mm"
equation "d8 = ( 2 * 1.27 ) * 1 mm"
equation "d19 = ( 4 * 1.27 ) * 1 mm"
equation "d21 = ( 2 * 1.27 ) * 1 mm"
equation "d22 = ( 4 * 1.27 ) * 1 mm"
equation "d24 = ( 3 * 1.27 ) * 1 mm"
equation "d25 = ( 2 * 1.27 ) * 1 mm"
equation "d38 = ( 4 * 1.27 ) * 1 mm"
equation "d40 = ( 2 * 1.27 ) * 1 mm"
equation "d41 = ( 4 * 1.27 ) * 1 mm"
equation "d43 = ( 3 * 1.27 ) * 1 mm"
equation "d44 = ( 2 * 1.27 ) * 1 mm"
equation "d49 = ( 4 * 1.27 ) * 1 mm"
equation "d51 = ( 2 * 1.27 ) * 1 mm"
equation "d52 = ( 4 * 1.27 ) * 1 mm"
equation "d54 = ( 3 * 1.27 ) * 1 mm"
equation "d55 = ( 2 * 1.27 ) * 1 mm"
